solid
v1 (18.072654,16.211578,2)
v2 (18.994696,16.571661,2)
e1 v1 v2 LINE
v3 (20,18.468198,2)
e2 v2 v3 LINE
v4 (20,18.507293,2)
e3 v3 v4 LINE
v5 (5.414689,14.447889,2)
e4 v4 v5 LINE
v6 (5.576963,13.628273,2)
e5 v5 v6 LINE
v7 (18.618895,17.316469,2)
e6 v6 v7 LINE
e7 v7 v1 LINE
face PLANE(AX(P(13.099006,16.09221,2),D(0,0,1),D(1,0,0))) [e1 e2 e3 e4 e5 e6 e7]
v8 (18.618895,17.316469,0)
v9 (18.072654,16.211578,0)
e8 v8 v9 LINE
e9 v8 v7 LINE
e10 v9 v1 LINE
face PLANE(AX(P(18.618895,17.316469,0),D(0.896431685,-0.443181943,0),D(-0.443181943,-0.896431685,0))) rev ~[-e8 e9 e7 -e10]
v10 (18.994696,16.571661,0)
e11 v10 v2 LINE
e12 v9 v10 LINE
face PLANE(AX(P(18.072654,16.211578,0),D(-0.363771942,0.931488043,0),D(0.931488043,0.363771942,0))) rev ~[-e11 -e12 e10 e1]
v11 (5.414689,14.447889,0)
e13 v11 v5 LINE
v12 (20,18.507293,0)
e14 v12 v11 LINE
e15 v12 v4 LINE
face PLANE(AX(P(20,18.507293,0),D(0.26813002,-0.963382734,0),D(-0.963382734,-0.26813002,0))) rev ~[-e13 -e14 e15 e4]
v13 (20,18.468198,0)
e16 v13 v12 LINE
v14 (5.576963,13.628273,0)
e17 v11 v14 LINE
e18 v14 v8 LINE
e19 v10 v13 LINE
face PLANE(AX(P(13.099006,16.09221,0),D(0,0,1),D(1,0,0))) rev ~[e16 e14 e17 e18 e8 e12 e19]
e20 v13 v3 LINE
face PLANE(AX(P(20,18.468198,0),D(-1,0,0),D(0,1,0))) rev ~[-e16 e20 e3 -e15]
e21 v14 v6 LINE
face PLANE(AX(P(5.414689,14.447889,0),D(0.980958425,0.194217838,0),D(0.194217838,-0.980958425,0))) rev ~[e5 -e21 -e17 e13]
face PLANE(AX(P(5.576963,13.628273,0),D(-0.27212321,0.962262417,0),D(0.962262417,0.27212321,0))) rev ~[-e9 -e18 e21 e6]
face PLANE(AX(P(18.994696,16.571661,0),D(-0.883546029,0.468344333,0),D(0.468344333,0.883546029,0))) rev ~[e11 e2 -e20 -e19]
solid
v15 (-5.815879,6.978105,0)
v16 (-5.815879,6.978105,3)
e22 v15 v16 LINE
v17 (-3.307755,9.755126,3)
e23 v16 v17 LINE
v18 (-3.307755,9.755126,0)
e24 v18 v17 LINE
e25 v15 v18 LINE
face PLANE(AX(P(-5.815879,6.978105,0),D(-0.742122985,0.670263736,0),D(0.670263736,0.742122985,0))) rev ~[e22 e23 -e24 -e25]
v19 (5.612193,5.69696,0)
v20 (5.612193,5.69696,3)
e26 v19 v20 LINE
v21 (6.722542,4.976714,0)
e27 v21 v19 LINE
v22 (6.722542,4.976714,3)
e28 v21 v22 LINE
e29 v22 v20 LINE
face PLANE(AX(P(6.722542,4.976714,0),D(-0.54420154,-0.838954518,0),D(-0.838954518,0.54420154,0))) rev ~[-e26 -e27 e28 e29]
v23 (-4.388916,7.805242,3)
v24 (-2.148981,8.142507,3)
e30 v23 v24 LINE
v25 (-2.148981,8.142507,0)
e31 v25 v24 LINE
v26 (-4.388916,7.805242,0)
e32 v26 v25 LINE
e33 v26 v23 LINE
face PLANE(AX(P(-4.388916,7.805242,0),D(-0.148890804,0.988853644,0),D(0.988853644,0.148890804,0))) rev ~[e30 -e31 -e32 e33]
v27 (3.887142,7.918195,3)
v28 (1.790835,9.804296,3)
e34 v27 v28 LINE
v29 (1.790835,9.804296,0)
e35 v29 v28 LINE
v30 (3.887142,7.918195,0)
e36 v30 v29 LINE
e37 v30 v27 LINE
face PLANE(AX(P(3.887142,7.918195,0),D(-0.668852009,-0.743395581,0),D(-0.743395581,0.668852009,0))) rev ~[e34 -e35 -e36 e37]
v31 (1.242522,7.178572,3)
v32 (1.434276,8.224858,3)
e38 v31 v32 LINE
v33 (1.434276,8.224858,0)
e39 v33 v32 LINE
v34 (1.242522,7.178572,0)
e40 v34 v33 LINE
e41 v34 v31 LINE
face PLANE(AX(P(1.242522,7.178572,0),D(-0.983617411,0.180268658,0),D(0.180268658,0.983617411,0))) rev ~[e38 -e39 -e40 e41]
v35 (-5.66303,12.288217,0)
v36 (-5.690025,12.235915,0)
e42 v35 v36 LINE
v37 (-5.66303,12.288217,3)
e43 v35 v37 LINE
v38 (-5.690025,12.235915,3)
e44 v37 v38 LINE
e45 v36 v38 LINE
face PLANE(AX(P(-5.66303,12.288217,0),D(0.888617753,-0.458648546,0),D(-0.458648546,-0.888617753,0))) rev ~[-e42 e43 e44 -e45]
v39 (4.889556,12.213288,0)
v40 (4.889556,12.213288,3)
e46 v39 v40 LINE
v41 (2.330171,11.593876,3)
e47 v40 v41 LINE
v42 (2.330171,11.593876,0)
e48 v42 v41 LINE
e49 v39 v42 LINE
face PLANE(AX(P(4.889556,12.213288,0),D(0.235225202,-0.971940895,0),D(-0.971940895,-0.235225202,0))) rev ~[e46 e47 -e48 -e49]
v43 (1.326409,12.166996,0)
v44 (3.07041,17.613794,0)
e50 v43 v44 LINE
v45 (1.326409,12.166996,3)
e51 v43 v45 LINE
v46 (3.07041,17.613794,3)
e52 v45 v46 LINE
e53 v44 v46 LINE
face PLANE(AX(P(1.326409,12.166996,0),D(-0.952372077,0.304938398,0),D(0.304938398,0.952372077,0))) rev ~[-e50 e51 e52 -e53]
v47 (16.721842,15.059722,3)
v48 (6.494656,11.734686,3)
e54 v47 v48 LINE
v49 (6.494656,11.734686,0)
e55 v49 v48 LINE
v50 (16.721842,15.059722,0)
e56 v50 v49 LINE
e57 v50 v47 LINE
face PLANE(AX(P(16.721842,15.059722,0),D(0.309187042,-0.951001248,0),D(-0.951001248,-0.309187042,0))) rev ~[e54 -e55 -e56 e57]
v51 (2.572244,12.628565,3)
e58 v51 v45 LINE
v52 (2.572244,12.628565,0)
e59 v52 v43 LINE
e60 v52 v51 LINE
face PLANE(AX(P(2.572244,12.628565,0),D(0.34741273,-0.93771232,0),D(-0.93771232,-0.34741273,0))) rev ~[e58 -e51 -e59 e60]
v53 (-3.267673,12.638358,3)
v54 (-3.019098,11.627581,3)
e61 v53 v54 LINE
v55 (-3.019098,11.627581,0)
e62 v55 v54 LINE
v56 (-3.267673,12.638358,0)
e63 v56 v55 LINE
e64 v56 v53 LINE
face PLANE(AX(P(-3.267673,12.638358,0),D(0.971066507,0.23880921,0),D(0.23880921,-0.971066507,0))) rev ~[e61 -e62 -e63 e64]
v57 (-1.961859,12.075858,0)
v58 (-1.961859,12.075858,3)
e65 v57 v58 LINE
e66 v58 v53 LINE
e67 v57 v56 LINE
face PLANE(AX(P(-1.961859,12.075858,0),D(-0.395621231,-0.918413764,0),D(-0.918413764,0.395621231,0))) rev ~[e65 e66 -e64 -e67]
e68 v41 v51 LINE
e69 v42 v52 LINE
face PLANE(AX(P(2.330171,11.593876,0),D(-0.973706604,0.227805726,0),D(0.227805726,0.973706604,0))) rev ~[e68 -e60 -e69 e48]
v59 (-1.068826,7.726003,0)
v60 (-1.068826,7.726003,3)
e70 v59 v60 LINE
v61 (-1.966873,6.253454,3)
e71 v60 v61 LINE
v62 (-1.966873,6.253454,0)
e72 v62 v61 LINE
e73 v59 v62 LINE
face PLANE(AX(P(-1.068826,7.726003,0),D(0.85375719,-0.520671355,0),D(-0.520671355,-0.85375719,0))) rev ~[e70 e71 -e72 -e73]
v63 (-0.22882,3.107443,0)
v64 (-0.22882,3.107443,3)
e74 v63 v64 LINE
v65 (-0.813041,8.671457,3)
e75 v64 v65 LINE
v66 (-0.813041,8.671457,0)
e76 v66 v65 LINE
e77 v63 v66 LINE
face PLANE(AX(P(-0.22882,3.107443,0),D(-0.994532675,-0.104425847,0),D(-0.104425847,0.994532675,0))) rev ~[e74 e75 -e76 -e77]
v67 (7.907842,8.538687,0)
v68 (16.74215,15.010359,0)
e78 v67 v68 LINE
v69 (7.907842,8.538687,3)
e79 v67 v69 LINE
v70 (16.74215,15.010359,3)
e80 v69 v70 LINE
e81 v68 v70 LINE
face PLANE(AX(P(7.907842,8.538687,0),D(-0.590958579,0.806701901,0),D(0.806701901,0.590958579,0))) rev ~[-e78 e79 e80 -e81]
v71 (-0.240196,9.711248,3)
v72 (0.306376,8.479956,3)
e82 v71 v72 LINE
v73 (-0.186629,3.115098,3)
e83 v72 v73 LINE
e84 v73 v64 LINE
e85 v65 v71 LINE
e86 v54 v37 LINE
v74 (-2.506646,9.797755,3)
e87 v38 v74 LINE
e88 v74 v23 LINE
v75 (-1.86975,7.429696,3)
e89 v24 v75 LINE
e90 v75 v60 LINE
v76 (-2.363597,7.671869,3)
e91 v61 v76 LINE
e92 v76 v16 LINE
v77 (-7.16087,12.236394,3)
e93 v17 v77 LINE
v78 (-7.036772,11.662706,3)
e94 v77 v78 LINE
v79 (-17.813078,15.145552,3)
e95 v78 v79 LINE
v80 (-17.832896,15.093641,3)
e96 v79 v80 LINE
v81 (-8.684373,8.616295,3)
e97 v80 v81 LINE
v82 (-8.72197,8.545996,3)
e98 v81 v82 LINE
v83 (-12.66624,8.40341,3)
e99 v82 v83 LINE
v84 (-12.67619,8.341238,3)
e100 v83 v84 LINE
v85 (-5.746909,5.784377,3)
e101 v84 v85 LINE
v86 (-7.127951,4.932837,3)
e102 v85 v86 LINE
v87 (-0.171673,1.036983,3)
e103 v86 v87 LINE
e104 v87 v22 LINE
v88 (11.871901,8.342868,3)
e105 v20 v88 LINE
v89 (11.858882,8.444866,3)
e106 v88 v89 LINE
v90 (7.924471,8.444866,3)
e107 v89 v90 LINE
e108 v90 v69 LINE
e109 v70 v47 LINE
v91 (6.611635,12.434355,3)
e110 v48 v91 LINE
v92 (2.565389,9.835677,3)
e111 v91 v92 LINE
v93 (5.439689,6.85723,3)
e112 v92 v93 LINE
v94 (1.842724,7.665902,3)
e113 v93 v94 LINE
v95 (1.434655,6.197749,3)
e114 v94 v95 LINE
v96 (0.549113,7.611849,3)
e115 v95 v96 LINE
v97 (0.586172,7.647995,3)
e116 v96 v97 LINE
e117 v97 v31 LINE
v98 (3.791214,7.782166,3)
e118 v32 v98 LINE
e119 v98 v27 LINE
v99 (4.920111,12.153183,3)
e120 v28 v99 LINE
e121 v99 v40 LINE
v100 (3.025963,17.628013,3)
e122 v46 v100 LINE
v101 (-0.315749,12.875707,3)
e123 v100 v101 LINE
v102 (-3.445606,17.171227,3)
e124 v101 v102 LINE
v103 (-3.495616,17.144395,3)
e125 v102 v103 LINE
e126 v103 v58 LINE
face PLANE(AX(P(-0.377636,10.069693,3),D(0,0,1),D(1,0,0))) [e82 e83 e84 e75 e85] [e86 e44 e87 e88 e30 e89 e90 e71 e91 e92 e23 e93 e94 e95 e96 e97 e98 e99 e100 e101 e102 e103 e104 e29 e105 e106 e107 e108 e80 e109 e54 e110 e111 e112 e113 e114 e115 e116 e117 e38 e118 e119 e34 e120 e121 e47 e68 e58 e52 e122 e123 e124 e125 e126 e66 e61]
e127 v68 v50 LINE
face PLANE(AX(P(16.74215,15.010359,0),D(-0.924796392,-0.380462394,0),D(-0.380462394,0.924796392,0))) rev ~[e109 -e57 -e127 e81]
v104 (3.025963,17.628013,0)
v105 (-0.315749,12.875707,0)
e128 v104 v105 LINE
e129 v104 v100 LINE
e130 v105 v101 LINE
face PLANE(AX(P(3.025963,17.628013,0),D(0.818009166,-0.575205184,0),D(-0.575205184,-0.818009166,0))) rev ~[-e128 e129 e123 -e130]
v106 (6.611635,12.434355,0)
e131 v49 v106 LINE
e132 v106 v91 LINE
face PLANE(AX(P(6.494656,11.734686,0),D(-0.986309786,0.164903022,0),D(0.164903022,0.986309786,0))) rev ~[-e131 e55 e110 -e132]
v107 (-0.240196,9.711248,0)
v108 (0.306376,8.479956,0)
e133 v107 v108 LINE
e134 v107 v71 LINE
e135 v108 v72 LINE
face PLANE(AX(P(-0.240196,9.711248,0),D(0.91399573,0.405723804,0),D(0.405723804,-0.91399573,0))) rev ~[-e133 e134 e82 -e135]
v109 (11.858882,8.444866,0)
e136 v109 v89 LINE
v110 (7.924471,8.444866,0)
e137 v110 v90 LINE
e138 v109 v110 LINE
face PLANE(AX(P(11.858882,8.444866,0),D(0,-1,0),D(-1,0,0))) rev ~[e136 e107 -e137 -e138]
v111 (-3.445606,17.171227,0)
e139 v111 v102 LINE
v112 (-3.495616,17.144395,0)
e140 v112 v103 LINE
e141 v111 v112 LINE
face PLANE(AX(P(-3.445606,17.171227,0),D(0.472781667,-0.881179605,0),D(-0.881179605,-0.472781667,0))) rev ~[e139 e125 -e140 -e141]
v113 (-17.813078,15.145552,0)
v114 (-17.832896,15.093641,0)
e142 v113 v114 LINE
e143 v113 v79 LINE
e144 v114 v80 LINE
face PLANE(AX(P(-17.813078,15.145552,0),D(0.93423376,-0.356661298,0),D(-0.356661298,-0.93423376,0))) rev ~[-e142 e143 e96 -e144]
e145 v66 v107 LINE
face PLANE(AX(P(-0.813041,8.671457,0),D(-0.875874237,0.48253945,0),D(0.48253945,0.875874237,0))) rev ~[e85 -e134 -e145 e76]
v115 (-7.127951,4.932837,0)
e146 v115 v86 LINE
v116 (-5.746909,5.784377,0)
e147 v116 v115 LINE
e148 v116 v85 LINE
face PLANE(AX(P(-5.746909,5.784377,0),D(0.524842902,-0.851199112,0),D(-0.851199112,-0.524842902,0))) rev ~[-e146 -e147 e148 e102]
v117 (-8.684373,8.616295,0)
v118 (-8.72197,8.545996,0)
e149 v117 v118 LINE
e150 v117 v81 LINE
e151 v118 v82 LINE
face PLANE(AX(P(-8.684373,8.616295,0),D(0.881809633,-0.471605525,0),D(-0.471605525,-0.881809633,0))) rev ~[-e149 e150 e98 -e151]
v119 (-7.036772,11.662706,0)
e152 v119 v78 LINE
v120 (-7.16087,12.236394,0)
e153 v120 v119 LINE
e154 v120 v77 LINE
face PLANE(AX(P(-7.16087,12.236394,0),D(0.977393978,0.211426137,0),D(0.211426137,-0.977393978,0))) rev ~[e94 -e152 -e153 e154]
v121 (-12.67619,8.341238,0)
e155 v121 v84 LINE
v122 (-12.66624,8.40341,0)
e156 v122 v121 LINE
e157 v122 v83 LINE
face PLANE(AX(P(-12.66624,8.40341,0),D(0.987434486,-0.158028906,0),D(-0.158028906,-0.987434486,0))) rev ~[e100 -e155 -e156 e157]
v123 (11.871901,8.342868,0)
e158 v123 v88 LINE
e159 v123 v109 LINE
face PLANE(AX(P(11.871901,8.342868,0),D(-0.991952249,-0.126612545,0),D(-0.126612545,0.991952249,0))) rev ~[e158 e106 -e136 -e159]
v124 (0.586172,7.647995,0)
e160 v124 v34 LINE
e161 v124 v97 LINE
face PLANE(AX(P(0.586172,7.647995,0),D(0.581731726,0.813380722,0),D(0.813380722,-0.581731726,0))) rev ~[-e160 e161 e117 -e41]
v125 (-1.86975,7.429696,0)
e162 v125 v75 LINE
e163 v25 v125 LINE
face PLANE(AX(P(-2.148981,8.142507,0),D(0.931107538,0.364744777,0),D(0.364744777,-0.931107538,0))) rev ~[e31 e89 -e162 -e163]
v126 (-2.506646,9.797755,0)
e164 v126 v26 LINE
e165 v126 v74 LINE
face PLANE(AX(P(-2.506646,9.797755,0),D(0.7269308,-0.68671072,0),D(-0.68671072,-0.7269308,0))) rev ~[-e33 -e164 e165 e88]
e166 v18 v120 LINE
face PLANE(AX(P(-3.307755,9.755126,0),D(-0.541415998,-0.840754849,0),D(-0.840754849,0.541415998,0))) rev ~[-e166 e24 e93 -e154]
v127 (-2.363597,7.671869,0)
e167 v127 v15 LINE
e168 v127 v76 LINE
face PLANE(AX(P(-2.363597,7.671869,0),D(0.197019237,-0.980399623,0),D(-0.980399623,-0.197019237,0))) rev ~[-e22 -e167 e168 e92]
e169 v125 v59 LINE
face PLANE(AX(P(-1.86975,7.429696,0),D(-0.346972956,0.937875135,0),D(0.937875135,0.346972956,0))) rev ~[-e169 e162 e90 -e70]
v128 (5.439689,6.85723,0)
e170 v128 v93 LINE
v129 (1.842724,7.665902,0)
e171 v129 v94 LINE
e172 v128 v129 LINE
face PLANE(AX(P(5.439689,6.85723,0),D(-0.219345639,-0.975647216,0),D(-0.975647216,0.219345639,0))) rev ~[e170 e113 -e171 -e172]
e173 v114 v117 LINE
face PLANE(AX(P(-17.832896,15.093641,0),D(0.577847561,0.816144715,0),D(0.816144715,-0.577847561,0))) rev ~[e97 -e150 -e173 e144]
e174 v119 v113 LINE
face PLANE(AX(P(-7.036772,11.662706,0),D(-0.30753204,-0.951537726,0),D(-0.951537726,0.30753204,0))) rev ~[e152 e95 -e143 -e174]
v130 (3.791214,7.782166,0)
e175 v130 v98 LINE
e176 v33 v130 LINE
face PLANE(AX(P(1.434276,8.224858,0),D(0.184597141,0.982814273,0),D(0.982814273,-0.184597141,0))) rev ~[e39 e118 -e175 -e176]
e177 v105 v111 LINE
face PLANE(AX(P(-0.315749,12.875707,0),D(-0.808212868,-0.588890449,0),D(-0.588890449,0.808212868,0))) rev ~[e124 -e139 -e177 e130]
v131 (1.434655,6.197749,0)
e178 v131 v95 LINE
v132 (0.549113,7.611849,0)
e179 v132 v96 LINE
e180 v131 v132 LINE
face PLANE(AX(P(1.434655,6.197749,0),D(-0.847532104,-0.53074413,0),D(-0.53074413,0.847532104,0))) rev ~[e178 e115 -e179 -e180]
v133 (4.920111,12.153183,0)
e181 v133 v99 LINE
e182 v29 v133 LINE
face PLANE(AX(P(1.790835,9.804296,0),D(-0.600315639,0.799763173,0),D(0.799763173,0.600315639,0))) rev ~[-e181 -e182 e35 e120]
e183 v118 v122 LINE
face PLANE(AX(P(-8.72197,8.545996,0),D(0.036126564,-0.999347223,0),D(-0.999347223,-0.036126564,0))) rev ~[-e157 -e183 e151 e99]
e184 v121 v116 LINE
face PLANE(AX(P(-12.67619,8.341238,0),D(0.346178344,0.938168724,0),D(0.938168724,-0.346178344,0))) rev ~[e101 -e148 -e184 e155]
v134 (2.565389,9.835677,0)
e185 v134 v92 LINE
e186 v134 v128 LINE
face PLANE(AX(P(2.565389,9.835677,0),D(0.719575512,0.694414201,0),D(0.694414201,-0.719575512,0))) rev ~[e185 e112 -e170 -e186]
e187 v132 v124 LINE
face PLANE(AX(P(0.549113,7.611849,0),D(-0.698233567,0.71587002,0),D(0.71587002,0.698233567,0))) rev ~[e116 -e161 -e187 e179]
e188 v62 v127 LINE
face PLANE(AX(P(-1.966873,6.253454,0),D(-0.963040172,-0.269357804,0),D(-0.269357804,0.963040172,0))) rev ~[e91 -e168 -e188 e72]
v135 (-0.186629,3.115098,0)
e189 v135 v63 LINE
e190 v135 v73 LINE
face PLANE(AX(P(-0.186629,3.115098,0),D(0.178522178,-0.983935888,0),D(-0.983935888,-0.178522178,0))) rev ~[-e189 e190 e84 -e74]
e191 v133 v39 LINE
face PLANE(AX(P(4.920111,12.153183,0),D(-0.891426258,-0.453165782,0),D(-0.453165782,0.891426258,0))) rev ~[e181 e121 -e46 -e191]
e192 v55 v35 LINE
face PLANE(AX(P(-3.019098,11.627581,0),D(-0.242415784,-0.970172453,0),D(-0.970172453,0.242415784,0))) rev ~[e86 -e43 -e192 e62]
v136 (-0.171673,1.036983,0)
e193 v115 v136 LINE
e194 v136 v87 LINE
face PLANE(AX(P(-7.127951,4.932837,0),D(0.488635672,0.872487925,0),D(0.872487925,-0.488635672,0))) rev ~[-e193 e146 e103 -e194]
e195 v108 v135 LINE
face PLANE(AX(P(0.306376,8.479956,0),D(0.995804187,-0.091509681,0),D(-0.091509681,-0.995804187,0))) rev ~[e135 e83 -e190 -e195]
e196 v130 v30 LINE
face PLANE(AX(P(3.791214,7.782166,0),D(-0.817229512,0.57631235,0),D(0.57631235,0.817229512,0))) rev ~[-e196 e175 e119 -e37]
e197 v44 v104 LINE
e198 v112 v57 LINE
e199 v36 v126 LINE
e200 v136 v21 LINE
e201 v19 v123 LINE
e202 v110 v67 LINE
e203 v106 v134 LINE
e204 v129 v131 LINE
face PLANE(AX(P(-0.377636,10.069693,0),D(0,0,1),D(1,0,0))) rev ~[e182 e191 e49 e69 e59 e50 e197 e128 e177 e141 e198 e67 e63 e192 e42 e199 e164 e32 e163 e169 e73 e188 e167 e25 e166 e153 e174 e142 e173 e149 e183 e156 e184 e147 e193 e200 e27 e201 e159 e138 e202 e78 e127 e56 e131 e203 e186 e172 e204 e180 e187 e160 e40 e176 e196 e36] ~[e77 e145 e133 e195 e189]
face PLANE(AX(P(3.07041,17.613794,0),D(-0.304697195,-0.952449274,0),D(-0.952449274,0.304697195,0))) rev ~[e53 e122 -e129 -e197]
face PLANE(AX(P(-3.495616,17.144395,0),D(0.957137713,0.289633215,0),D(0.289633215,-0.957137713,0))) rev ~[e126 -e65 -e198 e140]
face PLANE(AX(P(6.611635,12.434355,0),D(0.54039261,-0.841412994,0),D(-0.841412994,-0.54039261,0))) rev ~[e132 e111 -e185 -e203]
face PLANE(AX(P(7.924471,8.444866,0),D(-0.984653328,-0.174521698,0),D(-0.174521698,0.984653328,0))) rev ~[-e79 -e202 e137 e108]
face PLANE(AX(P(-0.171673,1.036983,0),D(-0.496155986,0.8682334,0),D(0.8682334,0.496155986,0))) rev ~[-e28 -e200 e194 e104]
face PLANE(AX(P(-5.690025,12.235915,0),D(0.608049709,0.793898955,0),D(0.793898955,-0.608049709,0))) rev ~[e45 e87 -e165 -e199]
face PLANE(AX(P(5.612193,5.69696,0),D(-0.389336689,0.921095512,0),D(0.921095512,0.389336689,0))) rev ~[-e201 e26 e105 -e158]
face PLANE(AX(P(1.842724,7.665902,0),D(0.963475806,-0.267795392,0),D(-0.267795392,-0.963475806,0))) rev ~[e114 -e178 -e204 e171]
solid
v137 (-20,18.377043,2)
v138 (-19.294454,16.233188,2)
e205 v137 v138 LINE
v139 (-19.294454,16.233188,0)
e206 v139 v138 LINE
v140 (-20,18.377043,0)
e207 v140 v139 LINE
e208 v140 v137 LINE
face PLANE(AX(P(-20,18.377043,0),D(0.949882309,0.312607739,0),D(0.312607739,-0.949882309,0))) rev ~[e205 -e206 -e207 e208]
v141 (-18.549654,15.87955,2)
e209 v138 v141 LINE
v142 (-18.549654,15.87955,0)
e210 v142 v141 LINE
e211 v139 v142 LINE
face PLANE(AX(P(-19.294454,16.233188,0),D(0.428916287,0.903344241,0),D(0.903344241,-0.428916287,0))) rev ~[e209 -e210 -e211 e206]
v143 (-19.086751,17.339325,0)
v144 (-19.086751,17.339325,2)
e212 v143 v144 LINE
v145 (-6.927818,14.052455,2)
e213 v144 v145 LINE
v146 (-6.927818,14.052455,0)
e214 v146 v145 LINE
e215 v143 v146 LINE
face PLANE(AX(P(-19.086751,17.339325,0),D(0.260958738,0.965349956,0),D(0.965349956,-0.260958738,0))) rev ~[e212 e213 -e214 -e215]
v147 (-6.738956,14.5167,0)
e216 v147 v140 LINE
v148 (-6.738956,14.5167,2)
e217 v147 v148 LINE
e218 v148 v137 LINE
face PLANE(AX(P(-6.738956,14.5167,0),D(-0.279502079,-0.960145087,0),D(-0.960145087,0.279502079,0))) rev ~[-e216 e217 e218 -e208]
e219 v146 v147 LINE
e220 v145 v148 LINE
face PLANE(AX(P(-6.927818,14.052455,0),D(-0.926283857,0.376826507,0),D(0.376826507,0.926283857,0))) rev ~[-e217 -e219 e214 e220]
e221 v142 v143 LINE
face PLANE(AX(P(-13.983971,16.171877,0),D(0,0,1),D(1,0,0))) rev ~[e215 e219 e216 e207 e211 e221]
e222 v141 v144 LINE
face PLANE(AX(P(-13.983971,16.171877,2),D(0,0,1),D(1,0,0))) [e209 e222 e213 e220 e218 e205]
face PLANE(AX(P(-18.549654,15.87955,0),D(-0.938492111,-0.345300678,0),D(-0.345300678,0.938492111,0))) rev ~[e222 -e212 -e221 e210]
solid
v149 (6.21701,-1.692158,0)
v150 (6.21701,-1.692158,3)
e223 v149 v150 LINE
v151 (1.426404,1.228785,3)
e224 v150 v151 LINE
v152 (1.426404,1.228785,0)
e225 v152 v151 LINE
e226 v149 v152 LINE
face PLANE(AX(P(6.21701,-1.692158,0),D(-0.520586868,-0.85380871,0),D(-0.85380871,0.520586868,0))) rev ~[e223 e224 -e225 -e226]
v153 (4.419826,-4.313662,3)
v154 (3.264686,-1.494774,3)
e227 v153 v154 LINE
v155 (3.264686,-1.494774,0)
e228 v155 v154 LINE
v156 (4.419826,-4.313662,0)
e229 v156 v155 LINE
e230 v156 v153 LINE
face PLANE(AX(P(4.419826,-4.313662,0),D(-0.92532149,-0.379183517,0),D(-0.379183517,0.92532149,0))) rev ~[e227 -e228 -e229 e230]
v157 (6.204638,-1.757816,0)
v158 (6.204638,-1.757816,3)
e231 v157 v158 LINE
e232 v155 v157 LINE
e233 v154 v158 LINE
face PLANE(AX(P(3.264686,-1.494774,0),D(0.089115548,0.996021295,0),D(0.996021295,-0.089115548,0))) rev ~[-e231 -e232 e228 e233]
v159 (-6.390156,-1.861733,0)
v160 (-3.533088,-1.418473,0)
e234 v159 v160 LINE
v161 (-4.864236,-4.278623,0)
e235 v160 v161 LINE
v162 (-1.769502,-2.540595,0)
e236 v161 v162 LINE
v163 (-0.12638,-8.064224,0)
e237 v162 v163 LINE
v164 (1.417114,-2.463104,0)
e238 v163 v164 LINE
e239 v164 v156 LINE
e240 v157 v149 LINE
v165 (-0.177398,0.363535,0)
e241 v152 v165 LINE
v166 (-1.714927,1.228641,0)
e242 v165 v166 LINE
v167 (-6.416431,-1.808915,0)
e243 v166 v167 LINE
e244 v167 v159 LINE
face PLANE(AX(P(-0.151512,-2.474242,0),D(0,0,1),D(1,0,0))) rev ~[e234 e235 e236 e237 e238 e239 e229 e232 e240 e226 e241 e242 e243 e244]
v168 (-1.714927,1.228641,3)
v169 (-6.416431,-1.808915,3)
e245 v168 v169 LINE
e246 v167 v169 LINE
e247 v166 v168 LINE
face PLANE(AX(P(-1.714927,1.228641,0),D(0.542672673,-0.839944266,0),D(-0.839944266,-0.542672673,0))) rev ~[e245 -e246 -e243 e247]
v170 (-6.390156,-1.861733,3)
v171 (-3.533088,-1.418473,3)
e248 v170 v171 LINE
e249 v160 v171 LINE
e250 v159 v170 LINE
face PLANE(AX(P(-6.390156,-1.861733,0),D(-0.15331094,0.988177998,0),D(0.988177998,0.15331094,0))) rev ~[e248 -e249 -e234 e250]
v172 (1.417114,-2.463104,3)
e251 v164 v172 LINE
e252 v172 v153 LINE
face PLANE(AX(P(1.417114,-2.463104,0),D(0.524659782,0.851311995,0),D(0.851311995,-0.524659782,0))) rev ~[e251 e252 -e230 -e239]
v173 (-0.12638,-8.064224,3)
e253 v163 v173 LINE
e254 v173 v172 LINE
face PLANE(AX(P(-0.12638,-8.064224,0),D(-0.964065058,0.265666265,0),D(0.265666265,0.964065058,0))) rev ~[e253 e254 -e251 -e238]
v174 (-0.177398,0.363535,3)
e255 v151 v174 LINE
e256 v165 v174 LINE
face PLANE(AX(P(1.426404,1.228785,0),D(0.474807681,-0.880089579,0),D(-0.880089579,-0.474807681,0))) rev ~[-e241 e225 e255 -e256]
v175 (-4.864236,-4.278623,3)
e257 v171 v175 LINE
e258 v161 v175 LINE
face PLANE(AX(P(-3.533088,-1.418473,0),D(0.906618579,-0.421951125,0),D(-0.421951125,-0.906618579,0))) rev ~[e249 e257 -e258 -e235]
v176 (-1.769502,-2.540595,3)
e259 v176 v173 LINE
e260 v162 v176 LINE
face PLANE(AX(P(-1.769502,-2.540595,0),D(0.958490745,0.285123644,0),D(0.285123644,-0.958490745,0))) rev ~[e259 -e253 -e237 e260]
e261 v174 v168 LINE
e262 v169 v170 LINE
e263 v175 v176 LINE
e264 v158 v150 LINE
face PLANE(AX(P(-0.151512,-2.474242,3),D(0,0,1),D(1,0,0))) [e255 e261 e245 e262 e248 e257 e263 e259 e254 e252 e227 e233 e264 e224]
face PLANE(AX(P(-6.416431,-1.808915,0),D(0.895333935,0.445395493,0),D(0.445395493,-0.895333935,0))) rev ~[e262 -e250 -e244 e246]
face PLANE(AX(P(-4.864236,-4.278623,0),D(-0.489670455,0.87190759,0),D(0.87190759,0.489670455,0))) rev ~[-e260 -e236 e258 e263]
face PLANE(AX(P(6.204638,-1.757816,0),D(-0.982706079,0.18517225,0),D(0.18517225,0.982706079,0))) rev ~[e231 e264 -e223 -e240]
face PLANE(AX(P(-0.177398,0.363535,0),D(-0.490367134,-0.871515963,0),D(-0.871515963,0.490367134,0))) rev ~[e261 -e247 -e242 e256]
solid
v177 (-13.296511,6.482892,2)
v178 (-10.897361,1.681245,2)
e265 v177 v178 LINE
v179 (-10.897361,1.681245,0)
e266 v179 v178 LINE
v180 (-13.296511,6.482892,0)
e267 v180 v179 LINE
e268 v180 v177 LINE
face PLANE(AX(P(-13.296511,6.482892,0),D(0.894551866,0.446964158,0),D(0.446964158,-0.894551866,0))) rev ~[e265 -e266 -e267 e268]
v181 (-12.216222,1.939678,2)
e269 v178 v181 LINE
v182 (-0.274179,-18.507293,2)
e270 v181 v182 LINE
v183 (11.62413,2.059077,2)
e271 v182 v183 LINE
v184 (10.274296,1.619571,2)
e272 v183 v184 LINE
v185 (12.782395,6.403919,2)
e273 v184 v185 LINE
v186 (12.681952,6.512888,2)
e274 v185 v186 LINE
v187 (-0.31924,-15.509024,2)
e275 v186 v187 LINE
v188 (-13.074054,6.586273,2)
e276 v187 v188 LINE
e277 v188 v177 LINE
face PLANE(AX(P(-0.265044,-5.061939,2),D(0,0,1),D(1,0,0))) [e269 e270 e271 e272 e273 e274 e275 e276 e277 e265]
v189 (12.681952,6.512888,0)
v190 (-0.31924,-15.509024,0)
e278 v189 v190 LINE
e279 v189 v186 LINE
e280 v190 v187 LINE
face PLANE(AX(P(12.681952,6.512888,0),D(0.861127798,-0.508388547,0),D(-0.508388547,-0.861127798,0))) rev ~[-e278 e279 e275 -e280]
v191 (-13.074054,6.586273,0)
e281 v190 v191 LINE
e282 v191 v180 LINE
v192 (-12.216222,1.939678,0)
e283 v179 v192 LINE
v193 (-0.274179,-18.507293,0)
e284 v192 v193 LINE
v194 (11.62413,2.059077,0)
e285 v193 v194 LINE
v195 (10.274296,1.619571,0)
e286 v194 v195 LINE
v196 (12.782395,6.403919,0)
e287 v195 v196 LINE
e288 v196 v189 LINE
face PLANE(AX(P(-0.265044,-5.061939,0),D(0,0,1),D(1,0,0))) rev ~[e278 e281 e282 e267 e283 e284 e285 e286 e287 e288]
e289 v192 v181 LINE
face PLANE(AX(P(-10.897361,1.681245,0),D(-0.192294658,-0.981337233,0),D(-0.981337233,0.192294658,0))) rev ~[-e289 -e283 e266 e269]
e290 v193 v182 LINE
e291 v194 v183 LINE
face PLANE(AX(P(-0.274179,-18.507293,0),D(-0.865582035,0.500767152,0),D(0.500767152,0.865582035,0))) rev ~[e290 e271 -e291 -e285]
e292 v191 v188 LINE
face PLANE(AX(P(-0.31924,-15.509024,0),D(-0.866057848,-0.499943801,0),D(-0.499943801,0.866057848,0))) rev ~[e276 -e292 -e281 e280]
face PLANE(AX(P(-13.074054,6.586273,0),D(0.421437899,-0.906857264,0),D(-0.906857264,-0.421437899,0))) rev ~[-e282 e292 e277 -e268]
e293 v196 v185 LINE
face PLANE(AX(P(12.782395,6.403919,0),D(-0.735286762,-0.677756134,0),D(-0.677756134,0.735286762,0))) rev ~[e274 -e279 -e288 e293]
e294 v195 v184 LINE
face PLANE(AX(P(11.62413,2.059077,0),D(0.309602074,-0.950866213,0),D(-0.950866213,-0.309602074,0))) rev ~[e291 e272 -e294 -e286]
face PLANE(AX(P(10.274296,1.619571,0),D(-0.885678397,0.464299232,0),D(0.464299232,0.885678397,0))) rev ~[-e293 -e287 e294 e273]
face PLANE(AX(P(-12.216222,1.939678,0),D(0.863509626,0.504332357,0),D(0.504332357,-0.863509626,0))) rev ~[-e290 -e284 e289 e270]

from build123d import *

# Parameters (mm, degrees)
F1_DEPTH = 3
F2_DEPTH = 2


with BuildPart() as f1:
    # F0 (on Top) → F1 (new body)
    with BuildSketch(Plane.XY):
        Polygon((7.907842, 8.538687), (16.74215, 15.010359), (16.721842, 15.059722), (6.494656, 11.734686), (6.611635, 12.434355), (2.565389, 9.835677), (5.439689, 6.85723), (1.842724, 7.665902), (1.434655, 6.197749), (0.549113, 7.611849), (0.586172, 7.647995), (1.242522, 7.178572), (1.434276, 8.224858), (3.791214, 7.782166), (3.887142, 7.918195), (1.790835, 9.804296), (4.920111, 12.153183), (4.889556, 12.213288), (2.330171, 11.593876), (2.572244, 12.628565), (1.326409, 12.166996), (3.07041, 17.613794), (3.025963, 17.628013), (-0.315749, 12.875707), (-3.445606, 17.171227), (-3.495616, 17.144395), (-1.961859, 12.075858), (-3.267673, 12.638358), (-3.019098, 11.627581), (-5.66303, 12.288217), (-5.690025, 12.235915), (-2.506646, 9.797755), (-4.388916, 7.805242), (-2.148981, 8.142507), (-1.86975, 7.429696), (-1.068826, 7.726003), (-1.966873, 6.253454), (-2.363597, 7.671869), (-5.815879, 6.978105), (-3.307755, 9.755126), (-7.16087, 12.236394), (-7.036772, 11.662706), (-17.813078, 15.145552), (-17.832896, 15.093641), (-8.684373, 8.616295), (-8.72197, 8.545996), (-12.66624, 8.40341), (-12.67619, 8.341238), (-5.746909, 5.784377), (-7.127951, 4.932837), (-0.171673, 1.036983), (6.722542, 4.976714), (5.612193, 5.69696), (11.871901, 8.342868), (11.858882, 8.444866), (7.924471, 8.444866), align=None)
        Polygon((-0.186629, 3.115098), (-0.22882, 3.107443), (-0.813041, 8.671457), (-0.240196, 9.711248), (0.306376, 8.479956), align=None, mode=Mode.SUBTRACT)
        Polygon((-4.864236, -4.278623), (-1.769502, -2.540595), (-0.12638, -8.064224), (1.417114, -2.463104), (4.419826, -4.313662), (3.264686, -1.494774), (6.204638, -1.757816), (6.21701, -1.692158), (1.426404, 1.228785), (-0.177398, 0.363535), (-1.714927, 1.228641), (-6.416431, -1.808915), (-6.390156, -1.861733), (-3.533088, -1.418473), align=None)
    extrude(amount=F1_DEPTH)


with BuildPart() as f2:
    # F0 (on Top) → F2 (new body)
    with BuildSketch(Plane.XY):
        Polygon((-6.927818, 14.052455), (-6.738956, 14.5167), (-20, 18.377043), (-19.294454, 16.233188), (-18.549654, 15.87955), (-19.086751, 17.339325), align=None)
        Polygon((18.994696, 16.571661), (20, 18.468198), (20, 18.507293), (5.414689, 14.447889), (5.576963, 13.628273), (18.618895, 17.316469), (18.072654, 16.211578), align=None)
        Polygon((10.274296, 1.619571), (12.782395, 6.403919), (12.681952, 6.512888), (-0.31924, -15.509024), (-13.074054, 6.586273), (-13.296511, 6.482892), (-10.897361, 1.681245), (-12.216222, 1.939678), (-0.274179, -18.507293), (11.62413, 2.059077), align=None)
    extrude(amount=F2_DEPTH)


solid = Compound([f1.part, f2.part])
